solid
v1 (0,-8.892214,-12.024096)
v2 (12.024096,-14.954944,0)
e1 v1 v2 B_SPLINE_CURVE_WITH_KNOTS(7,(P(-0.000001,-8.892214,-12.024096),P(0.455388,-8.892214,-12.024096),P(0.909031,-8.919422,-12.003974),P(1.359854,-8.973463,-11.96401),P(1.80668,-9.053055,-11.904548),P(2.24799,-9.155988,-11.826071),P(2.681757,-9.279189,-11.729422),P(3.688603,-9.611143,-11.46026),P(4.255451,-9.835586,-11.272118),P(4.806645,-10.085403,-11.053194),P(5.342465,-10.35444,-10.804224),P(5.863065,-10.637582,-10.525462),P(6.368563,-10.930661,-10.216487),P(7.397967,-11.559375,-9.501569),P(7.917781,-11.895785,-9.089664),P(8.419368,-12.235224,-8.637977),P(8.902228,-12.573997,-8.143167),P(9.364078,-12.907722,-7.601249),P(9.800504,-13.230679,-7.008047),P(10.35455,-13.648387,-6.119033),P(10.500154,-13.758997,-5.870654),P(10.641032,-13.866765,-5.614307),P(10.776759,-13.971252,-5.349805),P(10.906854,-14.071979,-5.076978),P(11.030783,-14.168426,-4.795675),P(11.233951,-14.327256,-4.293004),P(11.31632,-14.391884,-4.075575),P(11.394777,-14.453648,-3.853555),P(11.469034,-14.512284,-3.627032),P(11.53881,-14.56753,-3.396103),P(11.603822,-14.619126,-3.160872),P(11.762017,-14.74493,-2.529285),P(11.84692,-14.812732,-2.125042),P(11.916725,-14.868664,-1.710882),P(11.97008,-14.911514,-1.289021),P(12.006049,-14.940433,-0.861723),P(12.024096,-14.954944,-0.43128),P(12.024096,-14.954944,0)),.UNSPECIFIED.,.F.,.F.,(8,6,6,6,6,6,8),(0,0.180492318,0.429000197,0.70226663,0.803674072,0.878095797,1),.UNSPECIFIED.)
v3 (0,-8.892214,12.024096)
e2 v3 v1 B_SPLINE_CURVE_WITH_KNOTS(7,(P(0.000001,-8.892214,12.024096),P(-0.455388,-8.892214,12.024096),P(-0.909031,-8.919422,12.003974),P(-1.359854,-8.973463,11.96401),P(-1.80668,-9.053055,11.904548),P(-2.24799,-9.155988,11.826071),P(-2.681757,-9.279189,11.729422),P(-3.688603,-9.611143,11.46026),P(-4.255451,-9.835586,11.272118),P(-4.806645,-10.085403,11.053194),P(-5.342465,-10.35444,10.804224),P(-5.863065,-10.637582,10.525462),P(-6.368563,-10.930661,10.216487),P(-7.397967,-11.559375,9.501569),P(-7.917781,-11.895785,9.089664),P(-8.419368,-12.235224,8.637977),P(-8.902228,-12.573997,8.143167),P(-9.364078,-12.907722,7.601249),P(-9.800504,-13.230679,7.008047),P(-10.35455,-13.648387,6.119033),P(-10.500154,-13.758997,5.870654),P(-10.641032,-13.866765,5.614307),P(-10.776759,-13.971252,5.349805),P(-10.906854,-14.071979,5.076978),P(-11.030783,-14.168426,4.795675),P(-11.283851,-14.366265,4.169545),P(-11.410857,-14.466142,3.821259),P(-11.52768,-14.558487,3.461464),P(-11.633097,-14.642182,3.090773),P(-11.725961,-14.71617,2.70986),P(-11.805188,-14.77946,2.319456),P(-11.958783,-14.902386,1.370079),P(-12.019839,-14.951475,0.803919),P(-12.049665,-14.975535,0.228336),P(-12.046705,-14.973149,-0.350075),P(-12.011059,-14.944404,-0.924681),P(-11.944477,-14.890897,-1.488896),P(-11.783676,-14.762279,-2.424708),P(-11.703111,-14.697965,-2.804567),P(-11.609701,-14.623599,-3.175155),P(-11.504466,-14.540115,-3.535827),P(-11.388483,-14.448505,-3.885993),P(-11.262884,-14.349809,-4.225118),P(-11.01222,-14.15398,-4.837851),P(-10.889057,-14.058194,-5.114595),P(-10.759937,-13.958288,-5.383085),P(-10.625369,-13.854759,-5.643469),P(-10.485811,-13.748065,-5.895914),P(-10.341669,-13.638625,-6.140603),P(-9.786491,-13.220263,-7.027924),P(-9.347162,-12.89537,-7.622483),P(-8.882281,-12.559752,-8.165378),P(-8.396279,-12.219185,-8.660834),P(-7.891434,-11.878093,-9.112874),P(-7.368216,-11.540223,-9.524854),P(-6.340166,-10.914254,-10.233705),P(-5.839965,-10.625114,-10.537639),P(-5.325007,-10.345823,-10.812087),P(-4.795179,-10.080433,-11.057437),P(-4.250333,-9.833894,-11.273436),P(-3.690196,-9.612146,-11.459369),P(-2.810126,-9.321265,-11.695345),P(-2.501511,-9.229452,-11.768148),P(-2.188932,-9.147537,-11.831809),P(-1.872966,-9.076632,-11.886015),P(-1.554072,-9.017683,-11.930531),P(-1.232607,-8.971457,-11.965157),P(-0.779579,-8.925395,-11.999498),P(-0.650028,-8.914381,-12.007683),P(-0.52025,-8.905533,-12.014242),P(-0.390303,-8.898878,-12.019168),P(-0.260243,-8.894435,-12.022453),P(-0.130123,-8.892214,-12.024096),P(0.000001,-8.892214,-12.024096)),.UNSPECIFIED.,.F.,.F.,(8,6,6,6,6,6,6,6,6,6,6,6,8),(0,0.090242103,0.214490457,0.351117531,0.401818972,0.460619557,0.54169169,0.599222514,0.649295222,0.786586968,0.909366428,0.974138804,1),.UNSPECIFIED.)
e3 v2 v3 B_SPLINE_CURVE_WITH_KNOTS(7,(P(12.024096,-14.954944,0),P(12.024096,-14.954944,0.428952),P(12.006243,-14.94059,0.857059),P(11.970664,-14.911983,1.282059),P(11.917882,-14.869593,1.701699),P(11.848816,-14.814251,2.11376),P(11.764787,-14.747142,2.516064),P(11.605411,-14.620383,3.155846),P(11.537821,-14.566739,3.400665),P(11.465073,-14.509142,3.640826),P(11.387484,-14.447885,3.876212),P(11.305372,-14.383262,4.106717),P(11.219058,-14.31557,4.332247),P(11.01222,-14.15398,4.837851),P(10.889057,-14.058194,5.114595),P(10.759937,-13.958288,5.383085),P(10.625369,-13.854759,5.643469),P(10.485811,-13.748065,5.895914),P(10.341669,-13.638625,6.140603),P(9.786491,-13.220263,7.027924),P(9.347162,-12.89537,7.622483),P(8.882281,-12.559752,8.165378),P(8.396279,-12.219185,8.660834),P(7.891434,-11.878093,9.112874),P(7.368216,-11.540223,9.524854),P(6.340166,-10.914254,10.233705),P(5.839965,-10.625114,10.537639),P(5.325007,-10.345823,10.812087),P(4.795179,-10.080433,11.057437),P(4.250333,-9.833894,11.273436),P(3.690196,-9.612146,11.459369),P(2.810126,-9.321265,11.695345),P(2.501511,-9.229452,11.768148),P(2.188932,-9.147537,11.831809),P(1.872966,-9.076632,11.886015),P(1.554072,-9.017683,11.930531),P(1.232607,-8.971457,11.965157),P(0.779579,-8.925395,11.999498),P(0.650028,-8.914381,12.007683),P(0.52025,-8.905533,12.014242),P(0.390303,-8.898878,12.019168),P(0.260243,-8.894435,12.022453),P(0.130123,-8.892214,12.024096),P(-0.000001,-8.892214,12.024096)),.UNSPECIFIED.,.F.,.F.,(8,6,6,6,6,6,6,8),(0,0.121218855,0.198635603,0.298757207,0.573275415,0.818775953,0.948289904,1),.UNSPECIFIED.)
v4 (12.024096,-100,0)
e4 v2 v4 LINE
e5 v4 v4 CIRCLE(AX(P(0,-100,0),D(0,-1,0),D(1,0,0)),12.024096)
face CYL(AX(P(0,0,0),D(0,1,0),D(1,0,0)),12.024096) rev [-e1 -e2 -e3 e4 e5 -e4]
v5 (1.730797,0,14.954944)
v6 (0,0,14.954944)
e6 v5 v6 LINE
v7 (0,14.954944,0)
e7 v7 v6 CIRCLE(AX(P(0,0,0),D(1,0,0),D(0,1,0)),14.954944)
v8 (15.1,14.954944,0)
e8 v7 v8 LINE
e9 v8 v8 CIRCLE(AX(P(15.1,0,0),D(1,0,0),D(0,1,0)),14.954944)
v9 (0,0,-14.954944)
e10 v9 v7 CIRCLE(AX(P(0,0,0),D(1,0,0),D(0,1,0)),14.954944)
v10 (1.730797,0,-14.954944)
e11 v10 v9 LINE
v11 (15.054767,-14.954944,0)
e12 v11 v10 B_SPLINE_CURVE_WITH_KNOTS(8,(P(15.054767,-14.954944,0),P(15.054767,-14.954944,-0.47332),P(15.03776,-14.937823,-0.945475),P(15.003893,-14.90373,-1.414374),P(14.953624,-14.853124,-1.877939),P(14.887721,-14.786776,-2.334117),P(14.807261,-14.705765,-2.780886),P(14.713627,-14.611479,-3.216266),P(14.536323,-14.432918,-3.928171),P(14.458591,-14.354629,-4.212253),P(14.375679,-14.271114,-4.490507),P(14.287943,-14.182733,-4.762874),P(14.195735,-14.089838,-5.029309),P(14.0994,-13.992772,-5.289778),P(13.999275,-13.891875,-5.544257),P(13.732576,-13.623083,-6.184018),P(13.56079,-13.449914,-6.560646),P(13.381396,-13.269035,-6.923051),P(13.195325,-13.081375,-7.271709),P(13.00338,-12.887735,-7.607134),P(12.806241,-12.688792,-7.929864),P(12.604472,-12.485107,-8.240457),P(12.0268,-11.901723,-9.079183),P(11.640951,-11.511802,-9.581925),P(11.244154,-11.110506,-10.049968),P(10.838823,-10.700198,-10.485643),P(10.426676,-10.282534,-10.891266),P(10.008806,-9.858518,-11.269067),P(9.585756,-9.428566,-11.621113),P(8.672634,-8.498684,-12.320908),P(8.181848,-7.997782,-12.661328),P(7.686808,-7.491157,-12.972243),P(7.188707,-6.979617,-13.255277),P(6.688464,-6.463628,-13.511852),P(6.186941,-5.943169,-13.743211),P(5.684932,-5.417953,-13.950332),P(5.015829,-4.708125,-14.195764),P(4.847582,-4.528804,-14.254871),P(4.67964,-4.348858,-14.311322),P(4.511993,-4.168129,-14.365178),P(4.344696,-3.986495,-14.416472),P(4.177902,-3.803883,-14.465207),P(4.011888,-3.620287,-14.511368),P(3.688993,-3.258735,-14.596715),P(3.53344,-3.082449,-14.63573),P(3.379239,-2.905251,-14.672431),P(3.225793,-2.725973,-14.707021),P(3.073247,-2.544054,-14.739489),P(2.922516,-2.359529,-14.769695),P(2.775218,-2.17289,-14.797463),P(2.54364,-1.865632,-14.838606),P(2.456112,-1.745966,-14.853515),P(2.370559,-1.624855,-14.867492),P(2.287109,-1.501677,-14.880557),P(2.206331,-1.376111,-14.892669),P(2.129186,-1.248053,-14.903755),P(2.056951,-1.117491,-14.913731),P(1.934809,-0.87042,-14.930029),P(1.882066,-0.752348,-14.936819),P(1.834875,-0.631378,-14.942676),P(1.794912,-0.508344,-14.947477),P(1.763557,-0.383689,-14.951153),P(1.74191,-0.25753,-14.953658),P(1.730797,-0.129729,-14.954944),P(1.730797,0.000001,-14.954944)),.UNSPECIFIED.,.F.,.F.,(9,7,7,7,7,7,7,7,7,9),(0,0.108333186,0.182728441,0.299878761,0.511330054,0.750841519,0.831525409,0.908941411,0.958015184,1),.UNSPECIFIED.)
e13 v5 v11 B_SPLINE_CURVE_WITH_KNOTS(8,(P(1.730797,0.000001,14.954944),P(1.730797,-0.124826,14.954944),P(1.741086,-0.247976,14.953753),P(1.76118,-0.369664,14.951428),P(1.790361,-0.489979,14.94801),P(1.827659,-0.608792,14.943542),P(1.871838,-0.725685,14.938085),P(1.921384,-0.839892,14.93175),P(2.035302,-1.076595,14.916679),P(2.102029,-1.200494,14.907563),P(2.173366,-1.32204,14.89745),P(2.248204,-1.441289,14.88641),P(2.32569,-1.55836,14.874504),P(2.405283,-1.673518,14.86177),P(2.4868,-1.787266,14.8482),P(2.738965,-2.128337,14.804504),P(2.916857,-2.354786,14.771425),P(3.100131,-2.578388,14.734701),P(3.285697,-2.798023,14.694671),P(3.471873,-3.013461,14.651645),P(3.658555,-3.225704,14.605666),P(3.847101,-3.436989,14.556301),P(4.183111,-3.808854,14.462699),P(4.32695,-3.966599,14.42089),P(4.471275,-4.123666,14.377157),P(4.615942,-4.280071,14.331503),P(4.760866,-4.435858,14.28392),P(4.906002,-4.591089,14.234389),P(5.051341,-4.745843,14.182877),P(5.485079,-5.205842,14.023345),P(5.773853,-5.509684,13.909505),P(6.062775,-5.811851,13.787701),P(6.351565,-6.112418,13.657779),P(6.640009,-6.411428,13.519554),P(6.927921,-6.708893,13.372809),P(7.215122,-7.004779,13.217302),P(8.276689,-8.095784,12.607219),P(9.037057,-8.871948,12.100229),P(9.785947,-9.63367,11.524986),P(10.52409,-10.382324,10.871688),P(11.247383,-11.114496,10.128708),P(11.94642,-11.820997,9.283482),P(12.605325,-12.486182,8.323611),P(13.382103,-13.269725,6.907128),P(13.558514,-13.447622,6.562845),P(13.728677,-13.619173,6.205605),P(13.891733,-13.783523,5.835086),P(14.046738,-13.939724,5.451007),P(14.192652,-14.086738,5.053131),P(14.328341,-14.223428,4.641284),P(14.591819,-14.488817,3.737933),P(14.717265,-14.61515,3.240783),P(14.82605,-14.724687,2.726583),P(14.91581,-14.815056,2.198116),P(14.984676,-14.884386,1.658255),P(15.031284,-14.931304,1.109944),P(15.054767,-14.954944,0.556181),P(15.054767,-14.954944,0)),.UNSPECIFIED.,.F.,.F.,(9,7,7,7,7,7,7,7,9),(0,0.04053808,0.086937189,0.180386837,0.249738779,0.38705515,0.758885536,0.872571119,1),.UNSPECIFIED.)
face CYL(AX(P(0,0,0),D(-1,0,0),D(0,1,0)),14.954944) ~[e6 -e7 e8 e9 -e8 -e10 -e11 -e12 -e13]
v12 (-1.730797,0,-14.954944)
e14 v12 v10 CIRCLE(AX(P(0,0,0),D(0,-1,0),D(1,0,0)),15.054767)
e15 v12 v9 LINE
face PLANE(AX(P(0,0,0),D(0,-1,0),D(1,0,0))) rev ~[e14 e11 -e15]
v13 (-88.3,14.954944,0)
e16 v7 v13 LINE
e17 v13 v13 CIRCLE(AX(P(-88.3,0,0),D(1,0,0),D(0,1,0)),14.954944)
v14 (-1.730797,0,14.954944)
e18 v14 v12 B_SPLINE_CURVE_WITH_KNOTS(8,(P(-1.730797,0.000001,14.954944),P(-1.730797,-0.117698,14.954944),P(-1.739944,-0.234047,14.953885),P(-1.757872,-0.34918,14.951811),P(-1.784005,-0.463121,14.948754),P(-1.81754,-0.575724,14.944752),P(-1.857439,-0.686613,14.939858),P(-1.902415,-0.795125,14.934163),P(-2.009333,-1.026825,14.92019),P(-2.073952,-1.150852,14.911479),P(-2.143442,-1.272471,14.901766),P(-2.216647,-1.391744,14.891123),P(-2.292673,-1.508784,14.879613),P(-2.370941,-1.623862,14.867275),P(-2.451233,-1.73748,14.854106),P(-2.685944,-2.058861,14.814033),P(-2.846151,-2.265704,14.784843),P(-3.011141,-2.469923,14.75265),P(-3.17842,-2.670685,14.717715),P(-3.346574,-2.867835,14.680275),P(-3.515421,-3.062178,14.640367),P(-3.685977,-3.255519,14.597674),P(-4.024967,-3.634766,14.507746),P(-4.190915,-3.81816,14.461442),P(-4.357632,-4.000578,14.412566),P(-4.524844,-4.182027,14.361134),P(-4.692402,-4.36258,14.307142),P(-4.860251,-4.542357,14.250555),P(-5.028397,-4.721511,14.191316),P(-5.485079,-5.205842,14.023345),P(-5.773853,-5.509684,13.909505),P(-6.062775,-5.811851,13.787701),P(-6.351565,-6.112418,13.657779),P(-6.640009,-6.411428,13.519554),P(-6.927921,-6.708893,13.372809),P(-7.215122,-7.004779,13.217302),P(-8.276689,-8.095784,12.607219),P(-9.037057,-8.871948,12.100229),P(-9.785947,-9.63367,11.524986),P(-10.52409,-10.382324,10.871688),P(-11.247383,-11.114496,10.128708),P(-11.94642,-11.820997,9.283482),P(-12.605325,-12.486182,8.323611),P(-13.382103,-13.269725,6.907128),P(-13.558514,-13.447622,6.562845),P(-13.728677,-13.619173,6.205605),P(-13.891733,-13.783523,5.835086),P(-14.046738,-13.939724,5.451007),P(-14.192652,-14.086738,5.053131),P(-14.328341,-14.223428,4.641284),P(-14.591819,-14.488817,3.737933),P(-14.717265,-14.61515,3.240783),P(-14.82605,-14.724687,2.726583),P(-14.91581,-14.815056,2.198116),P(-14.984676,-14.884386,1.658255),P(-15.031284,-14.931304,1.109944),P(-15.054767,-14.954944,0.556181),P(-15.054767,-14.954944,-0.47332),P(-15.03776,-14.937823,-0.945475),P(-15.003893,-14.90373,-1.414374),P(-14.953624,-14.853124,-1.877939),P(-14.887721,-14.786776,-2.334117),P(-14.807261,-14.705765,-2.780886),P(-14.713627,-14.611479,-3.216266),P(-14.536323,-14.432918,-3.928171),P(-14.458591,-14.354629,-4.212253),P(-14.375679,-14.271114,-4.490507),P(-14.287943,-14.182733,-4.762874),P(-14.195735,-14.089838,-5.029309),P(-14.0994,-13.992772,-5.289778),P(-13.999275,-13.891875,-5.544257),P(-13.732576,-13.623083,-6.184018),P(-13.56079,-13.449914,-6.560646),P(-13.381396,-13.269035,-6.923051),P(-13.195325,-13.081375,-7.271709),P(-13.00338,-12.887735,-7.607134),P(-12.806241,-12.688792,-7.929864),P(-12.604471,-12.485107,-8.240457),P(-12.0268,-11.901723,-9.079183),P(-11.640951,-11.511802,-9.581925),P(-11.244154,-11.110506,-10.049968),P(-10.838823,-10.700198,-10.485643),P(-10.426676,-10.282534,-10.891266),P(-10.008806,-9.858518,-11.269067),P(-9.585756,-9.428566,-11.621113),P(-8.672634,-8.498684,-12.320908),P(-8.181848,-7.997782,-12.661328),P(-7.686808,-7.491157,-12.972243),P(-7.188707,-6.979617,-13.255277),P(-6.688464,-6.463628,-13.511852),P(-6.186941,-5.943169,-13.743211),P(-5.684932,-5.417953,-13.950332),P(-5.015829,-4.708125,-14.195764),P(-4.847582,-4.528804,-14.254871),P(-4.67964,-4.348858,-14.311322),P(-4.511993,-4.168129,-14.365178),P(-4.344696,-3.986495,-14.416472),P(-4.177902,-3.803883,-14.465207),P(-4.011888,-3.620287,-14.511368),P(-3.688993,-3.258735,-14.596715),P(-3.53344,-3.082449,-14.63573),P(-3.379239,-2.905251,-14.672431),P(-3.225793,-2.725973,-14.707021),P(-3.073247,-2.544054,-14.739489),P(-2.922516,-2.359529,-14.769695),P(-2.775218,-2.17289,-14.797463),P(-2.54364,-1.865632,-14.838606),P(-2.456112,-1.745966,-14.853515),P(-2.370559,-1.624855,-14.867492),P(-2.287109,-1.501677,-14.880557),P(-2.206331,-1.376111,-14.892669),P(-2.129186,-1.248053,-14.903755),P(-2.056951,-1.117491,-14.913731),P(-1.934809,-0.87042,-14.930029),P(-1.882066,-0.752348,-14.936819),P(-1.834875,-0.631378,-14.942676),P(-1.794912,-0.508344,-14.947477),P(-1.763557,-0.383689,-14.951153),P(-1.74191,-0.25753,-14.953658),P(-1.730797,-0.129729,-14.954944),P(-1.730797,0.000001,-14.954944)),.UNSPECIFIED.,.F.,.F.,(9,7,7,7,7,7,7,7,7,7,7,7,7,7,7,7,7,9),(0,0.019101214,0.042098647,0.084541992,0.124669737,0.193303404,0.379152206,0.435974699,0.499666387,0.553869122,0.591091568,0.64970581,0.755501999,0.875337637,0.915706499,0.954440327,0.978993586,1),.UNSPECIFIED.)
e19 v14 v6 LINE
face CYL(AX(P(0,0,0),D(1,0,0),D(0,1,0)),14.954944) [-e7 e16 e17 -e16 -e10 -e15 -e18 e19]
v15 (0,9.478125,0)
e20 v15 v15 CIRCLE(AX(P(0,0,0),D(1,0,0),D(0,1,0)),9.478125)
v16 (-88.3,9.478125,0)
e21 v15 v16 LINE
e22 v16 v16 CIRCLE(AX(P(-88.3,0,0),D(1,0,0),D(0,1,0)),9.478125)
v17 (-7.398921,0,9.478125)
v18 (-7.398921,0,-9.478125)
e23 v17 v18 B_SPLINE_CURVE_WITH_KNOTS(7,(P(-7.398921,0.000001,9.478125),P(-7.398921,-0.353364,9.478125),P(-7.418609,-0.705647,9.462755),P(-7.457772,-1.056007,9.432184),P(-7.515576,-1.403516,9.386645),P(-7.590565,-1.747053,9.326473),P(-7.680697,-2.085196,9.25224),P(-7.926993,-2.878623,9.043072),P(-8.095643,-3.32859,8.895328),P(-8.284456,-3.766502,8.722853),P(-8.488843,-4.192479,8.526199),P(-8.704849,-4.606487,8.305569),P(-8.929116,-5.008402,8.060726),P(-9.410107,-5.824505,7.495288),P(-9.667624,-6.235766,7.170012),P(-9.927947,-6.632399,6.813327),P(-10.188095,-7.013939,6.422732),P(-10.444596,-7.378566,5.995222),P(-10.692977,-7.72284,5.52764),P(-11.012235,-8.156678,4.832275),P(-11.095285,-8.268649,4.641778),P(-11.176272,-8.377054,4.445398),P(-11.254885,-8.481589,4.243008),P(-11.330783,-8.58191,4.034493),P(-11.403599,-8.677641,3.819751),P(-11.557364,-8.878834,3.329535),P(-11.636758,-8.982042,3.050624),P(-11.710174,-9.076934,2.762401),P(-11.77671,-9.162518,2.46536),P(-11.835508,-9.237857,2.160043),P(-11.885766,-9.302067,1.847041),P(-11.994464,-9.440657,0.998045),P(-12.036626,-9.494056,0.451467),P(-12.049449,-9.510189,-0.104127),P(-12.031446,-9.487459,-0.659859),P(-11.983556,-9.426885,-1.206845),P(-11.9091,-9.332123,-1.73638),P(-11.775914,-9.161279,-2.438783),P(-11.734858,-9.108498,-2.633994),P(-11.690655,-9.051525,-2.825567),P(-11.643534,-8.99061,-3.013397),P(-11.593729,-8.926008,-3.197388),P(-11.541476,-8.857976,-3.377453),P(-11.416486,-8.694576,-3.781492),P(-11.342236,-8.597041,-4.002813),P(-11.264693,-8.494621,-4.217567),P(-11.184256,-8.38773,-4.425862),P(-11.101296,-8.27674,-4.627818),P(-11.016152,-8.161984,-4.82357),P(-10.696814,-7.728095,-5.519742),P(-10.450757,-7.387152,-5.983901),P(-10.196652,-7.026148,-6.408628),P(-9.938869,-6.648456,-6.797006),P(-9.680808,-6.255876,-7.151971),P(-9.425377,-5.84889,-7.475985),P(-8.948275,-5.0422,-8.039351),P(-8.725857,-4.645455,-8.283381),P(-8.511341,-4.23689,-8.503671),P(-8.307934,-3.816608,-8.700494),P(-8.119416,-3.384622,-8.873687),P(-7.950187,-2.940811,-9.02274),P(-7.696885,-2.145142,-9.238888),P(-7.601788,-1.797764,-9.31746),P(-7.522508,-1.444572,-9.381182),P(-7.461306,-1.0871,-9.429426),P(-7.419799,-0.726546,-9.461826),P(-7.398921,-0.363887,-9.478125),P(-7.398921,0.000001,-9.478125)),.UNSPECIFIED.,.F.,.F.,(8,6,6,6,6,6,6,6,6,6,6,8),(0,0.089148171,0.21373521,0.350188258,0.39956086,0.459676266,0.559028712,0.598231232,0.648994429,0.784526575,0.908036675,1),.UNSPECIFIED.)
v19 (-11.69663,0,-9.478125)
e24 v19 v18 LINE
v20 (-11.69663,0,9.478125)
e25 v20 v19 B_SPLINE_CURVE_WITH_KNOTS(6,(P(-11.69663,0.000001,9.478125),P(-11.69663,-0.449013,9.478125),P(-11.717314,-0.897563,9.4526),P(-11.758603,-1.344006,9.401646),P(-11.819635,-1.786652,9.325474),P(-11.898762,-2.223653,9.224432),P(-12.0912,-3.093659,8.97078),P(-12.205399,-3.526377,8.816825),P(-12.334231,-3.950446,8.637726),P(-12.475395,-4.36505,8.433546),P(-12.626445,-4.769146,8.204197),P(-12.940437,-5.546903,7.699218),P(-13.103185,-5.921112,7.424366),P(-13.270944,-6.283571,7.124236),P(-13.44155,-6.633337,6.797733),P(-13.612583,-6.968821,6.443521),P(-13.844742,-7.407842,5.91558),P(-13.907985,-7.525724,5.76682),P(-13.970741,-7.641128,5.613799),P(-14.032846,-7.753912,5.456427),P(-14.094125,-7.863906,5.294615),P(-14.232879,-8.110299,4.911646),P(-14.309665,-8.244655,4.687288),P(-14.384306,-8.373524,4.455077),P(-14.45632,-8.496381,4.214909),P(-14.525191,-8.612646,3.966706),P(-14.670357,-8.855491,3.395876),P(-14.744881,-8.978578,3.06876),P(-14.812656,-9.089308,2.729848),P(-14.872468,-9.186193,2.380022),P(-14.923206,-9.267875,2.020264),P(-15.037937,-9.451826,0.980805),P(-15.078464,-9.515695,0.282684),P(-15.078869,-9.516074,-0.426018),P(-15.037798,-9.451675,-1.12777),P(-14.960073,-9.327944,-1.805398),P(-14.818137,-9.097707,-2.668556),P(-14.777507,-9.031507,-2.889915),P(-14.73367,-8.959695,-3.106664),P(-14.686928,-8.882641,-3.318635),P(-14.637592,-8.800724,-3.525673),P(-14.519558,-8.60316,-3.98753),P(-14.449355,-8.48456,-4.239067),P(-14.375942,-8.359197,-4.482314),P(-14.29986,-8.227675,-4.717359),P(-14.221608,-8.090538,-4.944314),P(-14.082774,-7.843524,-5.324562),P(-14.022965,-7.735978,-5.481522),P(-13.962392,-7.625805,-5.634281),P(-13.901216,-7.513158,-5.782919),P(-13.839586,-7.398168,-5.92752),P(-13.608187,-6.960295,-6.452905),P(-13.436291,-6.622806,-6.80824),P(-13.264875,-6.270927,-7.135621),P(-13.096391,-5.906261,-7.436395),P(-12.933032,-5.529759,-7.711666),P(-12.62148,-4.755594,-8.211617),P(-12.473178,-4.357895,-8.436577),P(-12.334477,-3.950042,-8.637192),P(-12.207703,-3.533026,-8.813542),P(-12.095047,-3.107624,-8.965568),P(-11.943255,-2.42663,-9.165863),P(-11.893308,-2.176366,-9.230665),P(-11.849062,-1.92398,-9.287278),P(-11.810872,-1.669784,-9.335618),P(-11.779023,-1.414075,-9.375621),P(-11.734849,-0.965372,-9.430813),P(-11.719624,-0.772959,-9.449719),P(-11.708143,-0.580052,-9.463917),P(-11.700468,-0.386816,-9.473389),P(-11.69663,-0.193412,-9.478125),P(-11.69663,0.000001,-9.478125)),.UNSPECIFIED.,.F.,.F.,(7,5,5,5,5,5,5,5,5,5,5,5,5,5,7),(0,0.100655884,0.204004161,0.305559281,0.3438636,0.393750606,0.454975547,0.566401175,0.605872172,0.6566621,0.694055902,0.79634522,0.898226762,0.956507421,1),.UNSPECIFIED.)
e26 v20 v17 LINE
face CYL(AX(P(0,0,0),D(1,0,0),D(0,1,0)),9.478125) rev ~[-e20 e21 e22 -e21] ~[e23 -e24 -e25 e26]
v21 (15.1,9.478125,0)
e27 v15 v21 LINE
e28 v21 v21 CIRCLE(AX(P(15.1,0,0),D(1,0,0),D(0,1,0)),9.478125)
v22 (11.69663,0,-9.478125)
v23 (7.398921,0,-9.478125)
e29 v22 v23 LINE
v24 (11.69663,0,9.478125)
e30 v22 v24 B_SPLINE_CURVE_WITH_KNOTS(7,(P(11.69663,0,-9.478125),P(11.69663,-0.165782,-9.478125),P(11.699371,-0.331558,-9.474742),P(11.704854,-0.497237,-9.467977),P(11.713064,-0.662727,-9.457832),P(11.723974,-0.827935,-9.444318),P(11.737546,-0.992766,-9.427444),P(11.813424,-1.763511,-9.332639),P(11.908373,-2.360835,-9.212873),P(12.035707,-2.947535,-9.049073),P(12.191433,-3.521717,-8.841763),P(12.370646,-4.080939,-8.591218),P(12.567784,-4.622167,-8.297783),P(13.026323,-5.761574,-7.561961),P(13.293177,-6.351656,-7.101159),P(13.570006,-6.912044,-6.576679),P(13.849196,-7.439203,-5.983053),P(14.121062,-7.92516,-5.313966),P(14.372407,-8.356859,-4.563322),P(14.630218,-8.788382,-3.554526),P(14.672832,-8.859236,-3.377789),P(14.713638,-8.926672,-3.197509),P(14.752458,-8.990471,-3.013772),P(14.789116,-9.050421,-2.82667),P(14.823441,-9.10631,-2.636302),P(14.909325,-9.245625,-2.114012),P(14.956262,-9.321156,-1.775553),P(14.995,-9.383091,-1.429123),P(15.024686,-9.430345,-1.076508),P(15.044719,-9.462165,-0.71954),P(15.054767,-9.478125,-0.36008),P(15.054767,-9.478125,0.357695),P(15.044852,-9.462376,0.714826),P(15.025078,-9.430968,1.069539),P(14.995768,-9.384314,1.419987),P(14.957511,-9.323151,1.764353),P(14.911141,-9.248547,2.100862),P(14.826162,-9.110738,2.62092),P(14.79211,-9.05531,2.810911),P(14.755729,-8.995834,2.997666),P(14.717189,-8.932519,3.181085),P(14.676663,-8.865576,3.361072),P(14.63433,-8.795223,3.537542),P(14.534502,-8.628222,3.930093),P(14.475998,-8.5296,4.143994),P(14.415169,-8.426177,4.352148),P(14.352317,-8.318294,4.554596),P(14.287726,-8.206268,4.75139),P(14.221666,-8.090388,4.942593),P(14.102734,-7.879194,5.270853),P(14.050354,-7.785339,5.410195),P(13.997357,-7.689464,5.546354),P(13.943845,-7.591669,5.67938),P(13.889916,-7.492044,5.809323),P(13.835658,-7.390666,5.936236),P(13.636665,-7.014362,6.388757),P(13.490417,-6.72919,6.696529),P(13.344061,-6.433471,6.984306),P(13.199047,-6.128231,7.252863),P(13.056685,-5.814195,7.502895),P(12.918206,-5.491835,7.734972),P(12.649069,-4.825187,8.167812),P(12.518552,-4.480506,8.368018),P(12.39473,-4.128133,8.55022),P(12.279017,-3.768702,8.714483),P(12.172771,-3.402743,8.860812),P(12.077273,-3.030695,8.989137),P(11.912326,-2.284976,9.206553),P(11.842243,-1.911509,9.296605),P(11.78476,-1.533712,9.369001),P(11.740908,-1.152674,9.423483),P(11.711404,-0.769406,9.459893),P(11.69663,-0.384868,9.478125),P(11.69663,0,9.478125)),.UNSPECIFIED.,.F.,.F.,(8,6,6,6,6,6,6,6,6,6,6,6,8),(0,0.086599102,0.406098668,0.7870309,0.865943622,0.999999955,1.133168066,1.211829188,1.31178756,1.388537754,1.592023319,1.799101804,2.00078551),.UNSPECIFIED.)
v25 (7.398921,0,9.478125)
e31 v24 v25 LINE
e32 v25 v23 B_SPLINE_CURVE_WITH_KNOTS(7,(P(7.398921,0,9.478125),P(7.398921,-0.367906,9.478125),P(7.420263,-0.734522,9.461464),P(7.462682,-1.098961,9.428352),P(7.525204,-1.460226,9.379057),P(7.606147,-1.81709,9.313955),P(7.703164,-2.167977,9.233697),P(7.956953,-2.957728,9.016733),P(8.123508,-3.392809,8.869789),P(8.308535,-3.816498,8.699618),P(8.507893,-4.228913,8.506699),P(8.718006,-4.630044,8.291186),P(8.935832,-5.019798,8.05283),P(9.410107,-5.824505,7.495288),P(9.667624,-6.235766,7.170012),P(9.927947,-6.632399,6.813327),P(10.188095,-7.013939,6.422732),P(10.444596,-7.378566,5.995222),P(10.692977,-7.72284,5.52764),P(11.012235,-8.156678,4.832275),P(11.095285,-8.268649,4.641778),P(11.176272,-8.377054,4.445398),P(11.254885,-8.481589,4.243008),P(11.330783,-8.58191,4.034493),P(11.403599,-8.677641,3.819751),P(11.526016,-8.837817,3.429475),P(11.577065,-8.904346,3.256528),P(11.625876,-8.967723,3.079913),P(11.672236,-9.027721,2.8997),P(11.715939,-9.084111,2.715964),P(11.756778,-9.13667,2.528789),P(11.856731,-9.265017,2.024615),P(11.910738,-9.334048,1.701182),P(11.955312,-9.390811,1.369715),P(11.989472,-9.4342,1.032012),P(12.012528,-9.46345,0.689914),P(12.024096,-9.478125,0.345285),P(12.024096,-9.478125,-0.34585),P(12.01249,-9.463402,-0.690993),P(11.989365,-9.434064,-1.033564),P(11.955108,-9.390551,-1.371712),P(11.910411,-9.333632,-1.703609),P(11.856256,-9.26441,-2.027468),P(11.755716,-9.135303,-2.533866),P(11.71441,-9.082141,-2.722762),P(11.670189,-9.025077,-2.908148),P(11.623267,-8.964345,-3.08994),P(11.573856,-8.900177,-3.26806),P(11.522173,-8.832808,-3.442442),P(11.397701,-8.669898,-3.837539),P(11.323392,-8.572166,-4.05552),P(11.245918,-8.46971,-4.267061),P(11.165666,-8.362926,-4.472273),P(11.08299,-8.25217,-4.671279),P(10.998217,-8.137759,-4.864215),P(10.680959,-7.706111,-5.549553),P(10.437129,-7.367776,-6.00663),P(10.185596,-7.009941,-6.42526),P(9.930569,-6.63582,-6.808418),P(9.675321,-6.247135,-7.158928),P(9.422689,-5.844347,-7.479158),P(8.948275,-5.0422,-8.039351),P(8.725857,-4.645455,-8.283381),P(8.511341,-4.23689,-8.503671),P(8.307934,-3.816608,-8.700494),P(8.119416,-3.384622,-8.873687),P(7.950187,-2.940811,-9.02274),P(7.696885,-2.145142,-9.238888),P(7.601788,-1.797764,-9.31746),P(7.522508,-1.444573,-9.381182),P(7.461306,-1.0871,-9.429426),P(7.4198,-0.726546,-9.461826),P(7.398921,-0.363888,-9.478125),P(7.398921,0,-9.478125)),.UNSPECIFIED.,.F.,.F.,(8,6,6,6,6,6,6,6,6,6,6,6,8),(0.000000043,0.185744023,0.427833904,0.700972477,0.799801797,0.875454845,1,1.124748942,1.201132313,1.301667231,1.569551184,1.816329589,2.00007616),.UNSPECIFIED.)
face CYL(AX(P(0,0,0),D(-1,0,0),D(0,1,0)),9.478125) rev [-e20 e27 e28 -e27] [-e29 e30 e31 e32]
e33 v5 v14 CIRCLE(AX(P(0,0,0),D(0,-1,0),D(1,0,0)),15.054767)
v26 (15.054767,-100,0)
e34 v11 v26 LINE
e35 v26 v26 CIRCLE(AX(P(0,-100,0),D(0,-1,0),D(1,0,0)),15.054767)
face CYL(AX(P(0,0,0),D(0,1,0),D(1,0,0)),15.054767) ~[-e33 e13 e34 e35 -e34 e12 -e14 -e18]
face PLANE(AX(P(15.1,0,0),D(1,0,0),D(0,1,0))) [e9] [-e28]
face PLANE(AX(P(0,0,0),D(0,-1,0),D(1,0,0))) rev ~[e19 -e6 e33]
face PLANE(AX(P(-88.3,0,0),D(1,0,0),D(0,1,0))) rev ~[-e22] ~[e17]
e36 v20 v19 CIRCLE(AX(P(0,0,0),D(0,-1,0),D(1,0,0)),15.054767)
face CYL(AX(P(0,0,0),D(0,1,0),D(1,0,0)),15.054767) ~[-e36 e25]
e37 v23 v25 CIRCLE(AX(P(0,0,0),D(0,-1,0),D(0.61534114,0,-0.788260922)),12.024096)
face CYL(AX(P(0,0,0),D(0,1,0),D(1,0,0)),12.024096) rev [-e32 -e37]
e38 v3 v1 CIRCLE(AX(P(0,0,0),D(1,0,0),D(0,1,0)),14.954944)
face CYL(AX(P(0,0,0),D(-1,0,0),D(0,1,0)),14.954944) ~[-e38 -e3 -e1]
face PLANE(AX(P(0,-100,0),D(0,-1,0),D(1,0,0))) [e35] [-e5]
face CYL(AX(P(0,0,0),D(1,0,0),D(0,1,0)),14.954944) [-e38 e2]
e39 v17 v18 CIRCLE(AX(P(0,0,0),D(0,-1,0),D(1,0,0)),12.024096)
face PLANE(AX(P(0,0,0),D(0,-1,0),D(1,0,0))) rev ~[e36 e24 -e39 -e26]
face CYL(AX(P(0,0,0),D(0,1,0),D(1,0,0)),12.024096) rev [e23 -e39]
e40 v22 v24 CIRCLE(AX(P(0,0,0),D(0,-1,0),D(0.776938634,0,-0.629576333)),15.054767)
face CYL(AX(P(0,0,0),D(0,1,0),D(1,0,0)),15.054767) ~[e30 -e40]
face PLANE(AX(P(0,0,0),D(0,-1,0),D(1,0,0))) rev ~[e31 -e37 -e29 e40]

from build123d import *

# Parameters (mm, degrees)
F0_R     = 15.054767
F0_R_2   = 12.024096
F1_DEPTH = 100
F2_R     = 14.954944
F2_R_2   = 9.478125
F3_DEPTH = 15.1
F4_DEPTH = 88.3


with BuildPart() as f1:
    # F0 (on Front) → F1 (new body)
    with BuildSketch(Plane.XZ):
        Circle(F0_R)
        Circle(F0_R_2, mode=Mode.SUBTRACT)
    extrude(amount=F1_DEPTH)

    # F2 (on Right) → F3 (join)
    with BuildSketch(Plane.YZ):
        Circle(F2_R)
        Circle(F2_R_2, mode=Mode.SUBTRACT)
    extrude(amount=F3_DEPTH)

    # F2 (on Right) → F4 (join)
    with BuildSketch(Plane.YZ):
        Circle(F2_R)
        Circle(F2_R_2, mode=Mode.SUBTRACT)
    extrude(amount=-F4_DEPTH)


solid = f1.part
